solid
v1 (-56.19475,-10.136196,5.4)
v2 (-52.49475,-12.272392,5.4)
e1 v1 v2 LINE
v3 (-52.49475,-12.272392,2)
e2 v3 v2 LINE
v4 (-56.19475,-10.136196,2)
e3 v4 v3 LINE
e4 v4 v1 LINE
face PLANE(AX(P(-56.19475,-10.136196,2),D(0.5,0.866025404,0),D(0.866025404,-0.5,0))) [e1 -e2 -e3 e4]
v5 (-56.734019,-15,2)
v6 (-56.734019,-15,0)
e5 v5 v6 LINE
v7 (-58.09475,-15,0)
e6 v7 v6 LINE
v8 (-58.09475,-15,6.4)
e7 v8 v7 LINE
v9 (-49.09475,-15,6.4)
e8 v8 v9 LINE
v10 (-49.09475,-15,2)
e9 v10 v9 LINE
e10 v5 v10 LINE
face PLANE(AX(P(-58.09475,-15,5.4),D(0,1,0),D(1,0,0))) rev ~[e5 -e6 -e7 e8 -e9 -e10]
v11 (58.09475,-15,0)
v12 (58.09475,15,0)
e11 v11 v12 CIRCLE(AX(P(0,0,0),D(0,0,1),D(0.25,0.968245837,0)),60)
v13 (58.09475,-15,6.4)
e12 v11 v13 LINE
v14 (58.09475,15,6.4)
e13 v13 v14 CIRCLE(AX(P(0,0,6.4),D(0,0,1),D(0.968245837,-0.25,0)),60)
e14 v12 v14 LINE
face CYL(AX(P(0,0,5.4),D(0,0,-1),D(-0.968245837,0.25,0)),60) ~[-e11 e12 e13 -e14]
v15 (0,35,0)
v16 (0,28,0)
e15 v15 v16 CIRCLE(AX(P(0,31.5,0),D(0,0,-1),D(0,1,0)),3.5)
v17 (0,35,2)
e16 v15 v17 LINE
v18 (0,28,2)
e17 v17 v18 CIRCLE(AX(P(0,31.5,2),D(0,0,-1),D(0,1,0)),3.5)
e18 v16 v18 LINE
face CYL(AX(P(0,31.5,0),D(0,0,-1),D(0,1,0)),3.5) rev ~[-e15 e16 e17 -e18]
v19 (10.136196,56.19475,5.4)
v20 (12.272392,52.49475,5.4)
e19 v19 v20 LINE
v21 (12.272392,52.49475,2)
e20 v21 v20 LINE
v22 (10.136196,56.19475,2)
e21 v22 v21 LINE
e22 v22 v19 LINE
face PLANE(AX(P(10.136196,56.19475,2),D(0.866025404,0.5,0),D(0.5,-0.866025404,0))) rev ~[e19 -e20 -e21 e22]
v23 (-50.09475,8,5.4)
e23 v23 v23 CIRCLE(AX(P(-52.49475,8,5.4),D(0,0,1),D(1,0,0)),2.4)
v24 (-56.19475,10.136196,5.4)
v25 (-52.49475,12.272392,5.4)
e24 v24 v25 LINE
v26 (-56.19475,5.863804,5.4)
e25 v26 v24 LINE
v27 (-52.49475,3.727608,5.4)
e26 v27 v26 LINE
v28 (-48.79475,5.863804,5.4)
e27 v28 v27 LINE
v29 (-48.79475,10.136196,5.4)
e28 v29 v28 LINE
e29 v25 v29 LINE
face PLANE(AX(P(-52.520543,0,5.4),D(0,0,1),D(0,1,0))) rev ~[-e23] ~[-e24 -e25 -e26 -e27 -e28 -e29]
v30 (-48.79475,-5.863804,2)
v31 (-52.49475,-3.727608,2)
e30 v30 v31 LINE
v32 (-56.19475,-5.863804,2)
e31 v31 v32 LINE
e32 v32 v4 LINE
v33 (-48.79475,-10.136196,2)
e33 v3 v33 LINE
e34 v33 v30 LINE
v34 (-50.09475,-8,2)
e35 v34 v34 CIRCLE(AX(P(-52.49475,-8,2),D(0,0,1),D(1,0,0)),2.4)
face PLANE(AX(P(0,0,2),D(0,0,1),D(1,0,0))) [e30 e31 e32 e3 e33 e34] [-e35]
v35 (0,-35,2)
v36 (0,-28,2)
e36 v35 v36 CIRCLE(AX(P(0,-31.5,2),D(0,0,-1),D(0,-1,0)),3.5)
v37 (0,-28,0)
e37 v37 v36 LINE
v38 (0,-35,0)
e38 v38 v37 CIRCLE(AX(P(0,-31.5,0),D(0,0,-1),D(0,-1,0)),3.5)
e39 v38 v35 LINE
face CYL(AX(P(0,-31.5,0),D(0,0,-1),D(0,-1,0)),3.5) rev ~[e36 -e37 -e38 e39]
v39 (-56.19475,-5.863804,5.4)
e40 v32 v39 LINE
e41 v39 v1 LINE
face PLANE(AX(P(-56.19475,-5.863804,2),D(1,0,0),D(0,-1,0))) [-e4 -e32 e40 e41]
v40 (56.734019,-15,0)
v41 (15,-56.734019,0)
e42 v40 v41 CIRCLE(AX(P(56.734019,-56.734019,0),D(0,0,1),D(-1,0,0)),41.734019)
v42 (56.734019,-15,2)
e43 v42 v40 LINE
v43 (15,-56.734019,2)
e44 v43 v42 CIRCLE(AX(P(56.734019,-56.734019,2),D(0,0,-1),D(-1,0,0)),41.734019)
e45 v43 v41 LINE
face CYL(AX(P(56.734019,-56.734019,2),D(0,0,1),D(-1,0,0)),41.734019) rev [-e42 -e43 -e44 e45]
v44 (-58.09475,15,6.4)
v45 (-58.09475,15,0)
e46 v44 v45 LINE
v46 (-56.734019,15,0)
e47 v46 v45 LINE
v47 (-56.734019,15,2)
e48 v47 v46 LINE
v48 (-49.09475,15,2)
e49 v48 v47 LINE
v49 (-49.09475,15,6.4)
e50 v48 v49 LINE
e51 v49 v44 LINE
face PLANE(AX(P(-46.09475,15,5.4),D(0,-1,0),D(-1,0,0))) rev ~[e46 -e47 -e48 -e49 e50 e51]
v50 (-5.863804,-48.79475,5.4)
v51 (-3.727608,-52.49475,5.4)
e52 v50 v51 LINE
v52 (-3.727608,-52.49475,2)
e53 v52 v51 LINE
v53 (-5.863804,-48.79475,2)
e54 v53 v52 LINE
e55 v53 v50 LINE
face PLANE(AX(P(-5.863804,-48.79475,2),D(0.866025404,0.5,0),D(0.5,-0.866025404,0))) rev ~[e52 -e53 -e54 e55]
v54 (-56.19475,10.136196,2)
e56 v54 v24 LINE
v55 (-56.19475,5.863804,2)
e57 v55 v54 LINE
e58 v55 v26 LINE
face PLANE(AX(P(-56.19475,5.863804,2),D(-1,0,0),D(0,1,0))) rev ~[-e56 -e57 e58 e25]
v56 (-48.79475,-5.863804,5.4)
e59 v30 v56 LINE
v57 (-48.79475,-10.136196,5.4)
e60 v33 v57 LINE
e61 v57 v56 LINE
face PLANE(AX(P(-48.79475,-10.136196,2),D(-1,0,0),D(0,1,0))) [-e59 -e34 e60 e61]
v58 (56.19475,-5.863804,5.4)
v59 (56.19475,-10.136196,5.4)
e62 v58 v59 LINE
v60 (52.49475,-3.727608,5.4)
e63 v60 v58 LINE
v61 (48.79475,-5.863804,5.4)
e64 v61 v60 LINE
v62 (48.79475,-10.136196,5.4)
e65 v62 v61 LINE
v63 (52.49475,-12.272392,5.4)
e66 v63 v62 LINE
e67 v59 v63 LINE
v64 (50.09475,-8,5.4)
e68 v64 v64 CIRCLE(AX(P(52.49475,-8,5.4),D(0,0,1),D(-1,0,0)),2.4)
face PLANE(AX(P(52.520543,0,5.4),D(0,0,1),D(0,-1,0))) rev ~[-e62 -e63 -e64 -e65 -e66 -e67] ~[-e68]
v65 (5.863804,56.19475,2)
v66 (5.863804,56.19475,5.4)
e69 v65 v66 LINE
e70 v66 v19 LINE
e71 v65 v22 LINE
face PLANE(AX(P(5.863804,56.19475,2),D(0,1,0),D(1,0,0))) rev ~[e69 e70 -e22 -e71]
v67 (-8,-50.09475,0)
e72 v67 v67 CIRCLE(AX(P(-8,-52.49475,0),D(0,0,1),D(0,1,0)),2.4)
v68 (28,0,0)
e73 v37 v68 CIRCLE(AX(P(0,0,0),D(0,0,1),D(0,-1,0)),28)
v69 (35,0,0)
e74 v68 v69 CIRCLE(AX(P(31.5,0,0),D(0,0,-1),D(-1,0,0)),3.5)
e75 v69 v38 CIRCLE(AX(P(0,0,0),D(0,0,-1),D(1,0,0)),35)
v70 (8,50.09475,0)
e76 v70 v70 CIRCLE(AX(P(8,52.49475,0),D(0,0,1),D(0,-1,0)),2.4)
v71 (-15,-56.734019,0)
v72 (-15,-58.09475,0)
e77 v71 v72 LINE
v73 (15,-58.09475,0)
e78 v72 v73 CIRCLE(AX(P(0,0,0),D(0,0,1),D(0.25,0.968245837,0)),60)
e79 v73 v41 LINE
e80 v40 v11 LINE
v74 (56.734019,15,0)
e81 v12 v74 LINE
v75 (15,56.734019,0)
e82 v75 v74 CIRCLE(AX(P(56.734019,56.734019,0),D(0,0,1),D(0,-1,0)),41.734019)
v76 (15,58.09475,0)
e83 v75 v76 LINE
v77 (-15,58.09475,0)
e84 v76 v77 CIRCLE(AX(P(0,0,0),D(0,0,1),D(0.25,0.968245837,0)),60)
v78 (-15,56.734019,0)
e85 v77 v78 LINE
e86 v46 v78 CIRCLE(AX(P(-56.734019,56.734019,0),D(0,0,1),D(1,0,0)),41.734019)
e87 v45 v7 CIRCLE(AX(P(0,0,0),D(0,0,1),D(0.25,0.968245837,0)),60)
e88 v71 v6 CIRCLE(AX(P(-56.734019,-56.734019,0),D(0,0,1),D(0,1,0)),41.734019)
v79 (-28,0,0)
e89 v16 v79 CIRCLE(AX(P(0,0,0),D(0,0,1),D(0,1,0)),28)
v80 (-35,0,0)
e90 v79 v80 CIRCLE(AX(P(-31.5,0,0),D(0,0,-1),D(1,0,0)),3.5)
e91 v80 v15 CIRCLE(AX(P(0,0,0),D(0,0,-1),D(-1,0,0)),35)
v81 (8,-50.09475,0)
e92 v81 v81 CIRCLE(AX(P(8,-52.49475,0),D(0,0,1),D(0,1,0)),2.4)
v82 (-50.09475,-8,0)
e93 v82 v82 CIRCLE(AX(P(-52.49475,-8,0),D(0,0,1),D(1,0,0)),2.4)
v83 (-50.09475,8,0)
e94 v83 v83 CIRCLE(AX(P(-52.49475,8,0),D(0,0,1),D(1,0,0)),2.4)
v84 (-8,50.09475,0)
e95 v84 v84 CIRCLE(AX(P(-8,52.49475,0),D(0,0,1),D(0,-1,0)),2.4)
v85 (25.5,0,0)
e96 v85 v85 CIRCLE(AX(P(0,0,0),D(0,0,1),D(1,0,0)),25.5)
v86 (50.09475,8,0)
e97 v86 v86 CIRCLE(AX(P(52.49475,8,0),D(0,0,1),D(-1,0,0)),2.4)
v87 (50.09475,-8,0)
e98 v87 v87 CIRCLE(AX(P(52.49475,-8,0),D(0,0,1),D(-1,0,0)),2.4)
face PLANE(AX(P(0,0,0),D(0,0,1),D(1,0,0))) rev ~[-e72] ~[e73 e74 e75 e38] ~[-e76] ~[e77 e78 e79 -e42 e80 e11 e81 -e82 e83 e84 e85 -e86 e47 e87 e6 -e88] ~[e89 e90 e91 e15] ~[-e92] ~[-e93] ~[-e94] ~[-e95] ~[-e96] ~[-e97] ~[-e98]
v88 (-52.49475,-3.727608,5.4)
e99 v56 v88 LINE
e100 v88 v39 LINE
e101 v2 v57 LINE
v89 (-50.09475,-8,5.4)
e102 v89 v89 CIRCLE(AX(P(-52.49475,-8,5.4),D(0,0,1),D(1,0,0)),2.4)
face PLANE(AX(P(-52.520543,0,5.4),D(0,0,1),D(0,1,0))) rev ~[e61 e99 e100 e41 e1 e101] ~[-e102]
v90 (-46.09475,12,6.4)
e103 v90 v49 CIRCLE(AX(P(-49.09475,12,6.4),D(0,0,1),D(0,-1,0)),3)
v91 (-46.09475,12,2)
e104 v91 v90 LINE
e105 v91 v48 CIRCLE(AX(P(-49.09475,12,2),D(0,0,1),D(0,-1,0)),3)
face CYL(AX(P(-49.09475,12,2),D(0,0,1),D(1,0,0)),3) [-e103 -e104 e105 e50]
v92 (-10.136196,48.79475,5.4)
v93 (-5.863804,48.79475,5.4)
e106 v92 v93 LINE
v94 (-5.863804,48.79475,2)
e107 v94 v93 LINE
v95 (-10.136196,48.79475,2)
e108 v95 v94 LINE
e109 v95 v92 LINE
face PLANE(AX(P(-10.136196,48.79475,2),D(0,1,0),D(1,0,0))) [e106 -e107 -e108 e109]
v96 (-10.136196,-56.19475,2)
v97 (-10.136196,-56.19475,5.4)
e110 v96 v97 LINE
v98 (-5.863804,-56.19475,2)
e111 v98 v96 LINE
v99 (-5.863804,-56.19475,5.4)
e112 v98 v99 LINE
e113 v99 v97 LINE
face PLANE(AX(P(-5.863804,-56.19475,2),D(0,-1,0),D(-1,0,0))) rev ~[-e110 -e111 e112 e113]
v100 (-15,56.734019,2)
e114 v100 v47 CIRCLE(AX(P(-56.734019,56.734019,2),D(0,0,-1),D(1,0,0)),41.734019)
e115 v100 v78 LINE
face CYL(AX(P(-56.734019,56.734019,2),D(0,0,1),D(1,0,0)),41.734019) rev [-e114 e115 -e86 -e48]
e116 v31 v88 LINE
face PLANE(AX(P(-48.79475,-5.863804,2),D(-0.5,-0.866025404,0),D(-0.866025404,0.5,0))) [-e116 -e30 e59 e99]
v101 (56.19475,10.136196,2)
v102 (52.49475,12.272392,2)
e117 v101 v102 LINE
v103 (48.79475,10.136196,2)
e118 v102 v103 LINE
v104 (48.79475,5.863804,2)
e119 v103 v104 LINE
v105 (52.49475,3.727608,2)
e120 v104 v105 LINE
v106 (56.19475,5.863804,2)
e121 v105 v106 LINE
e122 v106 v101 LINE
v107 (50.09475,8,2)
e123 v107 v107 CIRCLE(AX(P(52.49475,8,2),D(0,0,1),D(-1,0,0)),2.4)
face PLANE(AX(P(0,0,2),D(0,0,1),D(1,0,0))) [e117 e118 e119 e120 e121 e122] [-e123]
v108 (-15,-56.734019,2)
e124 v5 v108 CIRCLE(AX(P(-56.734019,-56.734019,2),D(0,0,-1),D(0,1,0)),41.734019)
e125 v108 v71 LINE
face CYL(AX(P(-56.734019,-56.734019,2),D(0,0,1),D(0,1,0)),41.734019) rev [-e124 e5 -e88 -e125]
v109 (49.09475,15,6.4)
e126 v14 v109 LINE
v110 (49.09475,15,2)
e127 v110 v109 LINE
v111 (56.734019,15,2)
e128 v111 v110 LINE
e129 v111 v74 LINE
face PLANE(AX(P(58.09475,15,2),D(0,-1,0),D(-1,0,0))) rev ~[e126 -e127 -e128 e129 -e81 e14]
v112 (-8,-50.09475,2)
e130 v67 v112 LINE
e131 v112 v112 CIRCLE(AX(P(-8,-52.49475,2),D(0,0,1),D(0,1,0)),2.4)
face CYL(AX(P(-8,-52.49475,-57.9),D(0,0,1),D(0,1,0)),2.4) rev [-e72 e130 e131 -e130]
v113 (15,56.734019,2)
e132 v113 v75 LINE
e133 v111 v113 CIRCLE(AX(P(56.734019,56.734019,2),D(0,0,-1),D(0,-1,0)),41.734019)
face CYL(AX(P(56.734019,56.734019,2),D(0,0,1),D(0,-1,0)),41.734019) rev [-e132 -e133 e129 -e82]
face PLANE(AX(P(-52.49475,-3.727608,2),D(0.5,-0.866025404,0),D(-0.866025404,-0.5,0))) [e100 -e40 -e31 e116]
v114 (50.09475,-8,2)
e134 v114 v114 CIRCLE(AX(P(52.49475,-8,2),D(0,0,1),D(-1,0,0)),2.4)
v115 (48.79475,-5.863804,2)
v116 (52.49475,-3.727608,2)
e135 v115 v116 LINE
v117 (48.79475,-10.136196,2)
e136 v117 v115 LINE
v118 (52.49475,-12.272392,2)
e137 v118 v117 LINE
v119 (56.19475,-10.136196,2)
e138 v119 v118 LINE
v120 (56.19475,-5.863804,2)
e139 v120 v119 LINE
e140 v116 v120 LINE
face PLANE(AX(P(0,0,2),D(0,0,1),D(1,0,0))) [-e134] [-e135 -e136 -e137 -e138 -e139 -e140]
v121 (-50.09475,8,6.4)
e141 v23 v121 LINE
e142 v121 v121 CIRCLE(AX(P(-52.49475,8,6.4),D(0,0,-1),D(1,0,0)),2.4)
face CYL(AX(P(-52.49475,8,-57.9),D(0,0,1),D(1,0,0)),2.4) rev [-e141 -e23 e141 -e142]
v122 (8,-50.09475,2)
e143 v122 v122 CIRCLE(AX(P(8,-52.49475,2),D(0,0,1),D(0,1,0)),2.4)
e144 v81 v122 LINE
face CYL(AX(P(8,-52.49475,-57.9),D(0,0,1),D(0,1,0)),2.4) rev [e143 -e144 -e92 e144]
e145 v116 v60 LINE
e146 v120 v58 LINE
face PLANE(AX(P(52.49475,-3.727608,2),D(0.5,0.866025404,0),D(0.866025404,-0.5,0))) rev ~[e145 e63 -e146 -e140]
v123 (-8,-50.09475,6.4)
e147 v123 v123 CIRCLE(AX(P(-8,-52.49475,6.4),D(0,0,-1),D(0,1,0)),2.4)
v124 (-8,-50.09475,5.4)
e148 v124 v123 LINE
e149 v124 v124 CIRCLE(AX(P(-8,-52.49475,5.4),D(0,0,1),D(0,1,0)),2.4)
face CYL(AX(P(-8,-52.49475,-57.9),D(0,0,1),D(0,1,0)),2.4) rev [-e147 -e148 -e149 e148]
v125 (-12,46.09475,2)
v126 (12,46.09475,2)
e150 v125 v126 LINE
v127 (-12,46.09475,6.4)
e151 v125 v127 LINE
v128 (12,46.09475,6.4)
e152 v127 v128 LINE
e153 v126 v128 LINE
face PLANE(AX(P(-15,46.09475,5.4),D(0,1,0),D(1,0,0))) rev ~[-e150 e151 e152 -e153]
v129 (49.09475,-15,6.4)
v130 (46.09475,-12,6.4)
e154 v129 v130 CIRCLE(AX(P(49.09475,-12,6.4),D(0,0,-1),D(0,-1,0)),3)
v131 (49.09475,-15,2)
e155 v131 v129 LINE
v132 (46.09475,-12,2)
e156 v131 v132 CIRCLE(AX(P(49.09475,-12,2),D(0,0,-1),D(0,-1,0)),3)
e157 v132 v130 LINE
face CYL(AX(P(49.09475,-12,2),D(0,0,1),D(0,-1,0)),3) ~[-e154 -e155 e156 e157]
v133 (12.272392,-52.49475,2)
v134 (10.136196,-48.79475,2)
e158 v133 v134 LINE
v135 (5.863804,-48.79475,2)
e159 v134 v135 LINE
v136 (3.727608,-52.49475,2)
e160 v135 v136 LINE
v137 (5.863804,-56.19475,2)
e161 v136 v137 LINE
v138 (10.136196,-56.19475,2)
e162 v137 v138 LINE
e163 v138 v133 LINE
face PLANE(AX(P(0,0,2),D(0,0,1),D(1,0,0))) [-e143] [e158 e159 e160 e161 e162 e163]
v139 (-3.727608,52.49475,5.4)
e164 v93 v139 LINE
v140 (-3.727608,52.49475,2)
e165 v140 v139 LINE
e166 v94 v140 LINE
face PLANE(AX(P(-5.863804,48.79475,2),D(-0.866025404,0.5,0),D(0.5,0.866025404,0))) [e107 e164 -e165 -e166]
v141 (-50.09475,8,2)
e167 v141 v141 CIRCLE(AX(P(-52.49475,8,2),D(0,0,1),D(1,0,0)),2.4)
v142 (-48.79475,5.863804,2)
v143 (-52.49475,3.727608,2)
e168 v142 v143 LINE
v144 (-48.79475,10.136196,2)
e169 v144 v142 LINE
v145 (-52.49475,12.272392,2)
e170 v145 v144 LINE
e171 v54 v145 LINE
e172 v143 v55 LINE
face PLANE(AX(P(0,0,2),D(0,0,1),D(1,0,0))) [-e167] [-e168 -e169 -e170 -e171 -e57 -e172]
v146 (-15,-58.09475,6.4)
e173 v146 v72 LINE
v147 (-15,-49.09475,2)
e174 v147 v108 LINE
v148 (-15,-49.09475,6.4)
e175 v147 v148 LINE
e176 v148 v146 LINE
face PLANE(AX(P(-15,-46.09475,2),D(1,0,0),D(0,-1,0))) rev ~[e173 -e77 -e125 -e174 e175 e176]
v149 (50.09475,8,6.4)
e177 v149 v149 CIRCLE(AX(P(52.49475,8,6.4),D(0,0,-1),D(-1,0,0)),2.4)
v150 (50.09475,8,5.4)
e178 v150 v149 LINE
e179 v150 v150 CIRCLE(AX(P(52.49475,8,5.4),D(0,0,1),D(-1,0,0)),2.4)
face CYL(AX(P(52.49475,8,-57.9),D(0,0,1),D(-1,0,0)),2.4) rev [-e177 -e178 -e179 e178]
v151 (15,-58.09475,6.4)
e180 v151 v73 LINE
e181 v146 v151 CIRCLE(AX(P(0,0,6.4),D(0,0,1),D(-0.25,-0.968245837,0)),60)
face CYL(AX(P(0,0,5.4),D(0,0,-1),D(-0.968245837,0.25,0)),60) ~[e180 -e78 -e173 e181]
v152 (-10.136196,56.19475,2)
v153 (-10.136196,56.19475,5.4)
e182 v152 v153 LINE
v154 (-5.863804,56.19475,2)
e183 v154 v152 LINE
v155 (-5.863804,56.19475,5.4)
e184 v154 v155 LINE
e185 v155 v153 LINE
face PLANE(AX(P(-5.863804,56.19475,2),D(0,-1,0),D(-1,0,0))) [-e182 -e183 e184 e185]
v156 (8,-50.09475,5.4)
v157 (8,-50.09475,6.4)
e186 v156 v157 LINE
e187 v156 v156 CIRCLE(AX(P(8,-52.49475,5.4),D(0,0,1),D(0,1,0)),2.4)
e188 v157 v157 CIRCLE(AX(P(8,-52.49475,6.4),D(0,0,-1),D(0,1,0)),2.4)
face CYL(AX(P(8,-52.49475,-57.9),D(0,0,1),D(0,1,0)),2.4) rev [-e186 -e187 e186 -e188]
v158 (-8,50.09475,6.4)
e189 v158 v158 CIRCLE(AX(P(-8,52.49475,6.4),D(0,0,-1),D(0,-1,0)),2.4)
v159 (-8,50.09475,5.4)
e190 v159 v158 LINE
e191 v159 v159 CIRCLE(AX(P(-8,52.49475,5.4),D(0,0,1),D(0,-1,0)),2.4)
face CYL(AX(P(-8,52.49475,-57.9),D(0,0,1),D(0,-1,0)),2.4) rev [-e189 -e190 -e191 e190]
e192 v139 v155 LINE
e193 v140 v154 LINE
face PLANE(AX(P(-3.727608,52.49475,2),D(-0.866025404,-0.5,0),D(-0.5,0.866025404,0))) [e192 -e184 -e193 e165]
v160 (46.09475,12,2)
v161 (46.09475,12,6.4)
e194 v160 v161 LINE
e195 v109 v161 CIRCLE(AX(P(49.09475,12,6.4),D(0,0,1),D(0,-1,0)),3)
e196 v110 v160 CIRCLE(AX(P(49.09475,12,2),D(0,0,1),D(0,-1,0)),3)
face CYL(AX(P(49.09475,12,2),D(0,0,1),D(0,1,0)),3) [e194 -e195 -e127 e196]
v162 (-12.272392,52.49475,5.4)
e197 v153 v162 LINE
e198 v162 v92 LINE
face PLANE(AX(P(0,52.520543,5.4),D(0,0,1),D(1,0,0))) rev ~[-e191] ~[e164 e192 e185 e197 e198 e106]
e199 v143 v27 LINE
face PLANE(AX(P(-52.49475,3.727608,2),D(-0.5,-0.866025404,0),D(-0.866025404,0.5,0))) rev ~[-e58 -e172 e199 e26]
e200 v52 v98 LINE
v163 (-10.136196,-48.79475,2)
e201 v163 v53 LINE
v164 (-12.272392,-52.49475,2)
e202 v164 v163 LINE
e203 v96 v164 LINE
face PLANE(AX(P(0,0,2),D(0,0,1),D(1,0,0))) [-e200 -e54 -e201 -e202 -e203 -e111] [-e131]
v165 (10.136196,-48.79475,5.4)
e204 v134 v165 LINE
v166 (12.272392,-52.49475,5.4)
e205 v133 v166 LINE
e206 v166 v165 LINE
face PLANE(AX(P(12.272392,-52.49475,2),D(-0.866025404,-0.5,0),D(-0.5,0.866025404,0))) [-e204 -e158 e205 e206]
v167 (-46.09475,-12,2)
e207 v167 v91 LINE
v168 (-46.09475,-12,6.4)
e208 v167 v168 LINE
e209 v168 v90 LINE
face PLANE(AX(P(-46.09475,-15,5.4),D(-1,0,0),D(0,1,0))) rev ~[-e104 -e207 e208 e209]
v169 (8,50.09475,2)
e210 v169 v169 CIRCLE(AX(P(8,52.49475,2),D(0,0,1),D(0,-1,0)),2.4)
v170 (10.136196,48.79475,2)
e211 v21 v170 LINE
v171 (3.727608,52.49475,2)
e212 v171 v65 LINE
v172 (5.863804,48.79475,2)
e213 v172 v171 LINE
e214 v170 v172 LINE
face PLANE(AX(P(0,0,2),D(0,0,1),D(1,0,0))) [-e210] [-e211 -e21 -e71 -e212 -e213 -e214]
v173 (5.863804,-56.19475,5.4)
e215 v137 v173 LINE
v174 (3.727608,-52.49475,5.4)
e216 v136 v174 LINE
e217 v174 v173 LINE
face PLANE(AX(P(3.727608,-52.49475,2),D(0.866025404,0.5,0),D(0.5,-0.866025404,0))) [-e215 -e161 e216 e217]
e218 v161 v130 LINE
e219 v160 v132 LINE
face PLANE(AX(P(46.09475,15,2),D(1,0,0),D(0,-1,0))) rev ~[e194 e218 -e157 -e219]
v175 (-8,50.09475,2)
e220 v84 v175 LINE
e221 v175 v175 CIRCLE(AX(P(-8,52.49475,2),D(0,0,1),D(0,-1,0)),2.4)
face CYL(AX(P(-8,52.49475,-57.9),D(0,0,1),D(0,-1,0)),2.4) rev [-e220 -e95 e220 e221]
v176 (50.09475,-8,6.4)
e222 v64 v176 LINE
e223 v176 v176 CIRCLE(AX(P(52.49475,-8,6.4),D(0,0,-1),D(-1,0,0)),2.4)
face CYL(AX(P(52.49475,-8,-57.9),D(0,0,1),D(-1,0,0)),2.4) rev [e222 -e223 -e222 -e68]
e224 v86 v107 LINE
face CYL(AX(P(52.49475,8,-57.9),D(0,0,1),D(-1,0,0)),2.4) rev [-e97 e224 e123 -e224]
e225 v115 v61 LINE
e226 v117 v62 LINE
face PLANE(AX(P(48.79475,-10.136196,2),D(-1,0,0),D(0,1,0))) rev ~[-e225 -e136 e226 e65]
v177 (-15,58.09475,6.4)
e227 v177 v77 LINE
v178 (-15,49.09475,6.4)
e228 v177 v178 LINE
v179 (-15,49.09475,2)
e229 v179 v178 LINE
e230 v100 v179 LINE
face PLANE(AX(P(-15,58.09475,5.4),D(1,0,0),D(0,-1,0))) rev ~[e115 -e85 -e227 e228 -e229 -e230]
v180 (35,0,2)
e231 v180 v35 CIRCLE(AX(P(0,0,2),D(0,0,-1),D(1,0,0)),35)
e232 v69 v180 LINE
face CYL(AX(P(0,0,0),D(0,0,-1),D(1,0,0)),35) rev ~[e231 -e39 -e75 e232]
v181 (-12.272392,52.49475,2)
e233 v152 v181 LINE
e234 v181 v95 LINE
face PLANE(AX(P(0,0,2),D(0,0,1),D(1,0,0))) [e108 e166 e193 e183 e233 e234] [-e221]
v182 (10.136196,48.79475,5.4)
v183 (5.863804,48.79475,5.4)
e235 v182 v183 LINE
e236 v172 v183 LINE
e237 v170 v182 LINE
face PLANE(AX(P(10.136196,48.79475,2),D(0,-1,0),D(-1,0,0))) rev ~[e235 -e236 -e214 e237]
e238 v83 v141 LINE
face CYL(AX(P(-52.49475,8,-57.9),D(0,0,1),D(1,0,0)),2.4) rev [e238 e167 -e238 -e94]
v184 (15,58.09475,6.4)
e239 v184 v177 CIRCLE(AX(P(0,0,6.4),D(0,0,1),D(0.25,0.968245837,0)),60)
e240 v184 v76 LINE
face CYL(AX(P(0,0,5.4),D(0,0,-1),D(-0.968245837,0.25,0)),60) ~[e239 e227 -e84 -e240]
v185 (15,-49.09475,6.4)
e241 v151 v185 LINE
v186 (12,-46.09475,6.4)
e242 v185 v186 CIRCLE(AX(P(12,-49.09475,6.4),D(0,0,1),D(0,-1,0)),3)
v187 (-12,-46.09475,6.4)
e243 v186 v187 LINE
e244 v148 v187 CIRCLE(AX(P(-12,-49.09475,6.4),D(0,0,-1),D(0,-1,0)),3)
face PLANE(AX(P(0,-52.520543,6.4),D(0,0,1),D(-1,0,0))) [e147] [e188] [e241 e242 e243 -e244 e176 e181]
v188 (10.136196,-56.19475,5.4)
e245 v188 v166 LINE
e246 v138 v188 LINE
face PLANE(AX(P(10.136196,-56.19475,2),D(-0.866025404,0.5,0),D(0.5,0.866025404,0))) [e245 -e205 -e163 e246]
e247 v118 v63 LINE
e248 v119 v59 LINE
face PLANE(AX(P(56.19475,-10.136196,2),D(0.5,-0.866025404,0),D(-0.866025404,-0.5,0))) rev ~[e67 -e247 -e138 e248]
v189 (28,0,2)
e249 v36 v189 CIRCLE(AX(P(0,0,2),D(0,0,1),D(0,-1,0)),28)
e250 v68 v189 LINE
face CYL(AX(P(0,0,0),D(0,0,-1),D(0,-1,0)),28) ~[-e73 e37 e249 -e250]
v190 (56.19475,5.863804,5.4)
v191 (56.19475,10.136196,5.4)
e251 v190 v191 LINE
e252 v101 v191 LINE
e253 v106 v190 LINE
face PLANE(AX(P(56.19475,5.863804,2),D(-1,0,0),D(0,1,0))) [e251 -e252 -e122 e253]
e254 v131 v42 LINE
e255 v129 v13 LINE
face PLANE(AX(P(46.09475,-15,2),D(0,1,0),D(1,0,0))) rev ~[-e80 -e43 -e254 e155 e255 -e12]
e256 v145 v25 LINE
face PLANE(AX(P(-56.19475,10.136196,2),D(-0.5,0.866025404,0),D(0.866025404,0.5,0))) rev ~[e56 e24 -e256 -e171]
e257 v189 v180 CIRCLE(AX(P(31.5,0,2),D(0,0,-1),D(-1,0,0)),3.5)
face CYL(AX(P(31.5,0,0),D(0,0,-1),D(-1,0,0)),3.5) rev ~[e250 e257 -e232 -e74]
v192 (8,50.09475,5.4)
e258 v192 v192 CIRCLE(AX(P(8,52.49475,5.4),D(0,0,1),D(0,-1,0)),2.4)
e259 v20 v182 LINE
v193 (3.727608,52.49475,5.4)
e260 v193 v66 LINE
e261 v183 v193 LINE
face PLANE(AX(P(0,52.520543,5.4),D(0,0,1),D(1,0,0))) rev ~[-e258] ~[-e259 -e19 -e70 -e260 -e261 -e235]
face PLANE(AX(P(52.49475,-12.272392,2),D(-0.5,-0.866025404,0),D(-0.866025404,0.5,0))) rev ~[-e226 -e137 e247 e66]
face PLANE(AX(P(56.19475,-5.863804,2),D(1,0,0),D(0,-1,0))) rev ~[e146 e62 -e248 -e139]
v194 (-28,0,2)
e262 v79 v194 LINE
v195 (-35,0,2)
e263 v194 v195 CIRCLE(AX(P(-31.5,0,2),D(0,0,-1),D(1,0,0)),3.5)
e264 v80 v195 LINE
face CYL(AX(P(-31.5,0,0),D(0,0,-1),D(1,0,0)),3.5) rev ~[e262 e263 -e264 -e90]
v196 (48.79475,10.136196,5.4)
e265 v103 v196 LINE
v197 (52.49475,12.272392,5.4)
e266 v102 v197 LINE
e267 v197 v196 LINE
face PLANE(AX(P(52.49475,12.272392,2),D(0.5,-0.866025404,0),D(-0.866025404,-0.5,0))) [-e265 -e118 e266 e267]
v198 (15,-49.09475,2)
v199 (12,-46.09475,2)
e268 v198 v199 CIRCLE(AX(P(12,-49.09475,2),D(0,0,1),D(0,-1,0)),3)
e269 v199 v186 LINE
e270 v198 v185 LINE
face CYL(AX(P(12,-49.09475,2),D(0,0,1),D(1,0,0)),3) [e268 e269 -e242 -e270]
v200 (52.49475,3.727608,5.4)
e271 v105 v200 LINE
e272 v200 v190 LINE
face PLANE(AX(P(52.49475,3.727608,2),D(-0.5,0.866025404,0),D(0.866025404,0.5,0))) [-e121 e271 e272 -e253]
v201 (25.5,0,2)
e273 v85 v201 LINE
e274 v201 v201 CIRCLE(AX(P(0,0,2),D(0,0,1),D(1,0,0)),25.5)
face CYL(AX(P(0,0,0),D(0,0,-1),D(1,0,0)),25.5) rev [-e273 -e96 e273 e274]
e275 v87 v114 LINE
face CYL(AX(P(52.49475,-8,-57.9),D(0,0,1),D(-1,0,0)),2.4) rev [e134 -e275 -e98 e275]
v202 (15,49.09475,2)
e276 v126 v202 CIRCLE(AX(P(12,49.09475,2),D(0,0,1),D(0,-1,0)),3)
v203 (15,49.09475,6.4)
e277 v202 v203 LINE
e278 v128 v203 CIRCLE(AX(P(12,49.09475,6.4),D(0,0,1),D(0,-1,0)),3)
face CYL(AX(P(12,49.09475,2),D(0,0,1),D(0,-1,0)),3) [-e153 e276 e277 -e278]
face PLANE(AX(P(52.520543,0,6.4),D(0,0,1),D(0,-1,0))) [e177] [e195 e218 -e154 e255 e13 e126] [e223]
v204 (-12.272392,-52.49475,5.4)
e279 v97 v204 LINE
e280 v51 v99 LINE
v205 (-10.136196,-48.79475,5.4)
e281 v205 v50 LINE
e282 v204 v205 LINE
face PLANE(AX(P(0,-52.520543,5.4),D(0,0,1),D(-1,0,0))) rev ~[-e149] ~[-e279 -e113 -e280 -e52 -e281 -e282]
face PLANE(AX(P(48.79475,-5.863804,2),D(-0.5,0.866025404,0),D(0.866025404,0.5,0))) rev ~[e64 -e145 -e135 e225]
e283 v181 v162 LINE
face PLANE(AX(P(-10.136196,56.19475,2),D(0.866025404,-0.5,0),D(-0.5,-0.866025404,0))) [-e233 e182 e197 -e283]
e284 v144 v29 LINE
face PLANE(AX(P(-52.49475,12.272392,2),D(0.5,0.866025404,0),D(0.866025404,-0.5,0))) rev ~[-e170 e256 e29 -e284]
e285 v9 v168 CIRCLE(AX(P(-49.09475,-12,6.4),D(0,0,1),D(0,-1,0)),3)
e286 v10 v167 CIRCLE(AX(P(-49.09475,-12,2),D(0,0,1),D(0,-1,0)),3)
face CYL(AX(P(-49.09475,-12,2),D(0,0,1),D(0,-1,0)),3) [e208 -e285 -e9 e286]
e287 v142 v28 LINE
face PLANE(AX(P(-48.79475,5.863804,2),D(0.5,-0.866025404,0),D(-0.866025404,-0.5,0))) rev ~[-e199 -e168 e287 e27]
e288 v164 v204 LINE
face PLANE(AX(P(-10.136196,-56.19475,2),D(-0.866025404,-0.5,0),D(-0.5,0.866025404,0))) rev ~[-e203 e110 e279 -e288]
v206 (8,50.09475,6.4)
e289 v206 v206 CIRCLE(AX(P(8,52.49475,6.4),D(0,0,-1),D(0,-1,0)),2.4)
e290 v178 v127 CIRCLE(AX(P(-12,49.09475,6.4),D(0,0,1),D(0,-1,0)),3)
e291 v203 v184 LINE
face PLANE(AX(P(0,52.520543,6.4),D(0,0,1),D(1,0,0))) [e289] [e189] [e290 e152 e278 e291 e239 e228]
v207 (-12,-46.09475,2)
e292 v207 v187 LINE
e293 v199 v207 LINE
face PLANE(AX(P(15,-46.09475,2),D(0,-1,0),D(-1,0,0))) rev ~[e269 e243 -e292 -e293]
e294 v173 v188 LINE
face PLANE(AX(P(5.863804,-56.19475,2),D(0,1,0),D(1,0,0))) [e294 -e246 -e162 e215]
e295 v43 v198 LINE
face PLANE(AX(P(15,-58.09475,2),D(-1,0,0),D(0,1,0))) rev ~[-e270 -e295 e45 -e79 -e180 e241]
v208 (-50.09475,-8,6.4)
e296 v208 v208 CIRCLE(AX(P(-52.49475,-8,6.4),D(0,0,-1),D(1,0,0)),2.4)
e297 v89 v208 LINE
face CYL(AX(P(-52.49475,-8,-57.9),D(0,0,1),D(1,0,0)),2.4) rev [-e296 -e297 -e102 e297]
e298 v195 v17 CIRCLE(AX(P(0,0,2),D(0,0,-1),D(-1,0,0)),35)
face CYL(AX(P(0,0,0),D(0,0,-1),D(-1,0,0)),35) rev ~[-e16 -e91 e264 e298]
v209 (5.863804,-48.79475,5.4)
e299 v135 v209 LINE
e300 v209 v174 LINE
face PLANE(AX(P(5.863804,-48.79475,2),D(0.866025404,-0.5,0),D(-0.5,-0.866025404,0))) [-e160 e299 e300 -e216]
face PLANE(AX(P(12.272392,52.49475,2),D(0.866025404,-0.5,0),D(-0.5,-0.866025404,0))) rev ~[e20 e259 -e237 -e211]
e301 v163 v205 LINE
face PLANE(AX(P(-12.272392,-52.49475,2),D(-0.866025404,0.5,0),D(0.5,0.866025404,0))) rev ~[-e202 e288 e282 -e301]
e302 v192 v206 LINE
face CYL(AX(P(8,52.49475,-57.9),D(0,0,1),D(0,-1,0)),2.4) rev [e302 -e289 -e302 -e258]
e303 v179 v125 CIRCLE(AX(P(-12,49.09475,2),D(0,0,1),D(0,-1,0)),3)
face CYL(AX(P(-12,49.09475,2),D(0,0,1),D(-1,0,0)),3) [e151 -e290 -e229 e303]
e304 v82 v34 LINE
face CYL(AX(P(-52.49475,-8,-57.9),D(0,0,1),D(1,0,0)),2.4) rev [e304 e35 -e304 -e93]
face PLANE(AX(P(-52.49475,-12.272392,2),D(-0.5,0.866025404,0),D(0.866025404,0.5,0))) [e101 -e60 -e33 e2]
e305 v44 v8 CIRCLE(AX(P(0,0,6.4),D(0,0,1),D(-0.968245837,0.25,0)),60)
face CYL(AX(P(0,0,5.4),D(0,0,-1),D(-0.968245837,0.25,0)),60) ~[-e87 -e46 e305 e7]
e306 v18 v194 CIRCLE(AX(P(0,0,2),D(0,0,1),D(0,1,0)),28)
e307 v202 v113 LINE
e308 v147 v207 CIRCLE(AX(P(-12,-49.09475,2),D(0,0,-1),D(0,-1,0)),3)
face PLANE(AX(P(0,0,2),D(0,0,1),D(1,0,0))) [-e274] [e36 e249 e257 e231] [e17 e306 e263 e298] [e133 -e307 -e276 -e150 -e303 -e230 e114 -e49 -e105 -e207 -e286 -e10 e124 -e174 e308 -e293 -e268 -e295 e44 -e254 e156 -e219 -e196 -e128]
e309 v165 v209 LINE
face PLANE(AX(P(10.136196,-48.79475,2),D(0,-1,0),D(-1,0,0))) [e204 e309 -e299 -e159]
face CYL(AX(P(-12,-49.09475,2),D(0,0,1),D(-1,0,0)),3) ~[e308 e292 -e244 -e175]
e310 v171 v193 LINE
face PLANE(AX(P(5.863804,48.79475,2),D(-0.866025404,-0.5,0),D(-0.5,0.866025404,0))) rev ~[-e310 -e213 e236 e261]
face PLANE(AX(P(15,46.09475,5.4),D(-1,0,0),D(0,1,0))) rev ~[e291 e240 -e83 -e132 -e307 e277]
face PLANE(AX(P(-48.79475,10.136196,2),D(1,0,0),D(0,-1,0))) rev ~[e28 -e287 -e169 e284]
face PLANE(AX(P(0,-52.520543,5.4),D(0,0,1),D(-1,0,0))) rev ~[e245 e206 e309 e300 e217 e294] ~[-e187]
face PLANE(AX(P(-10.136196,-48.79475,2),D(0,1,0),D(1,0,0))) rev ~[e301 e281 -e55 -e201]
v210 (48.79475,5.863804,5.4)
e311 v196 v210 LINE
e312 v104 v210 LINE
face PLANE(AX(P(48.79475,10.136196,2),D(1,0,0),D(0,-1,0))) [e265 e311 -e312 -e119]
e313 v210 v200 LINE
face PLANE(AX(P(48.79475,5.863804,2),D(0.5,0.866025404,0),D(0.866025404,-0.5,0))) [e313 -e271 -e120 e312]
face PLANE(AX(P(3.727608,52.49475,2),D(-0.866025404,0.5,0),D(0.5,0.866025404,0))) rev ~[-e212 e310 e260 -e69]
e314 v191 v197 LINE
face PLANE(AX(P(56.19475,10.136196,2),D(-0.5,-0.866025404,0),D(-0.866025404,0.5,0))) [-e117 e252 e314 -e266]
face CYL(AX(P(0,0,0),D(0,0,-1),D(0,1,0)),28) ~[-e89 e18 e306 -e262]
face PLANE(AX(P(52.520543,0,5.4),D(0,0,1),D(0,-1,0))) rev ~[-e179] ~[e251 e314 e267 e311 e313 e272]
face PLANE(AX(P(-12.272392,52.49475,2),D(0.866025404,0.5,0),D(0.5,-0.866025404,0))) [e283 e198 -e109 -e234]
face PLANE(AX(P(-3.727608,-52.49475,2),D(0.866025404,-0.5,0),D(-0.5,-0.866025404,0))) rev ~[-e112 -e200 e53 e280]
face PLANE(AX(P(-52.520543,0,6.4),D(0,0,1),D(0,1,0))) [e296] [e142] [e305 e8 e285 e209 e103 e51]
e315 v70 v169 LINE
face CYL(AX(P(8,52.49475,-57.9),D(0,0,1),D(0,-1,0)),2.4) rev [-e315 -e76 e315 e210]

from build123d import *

# Parameters (mm, degrees)
SKIZZE1_R                         = 60
SKIZZE1_R_2                       = 25.500000000000004
AUFSATZ_LINEAR_AUSTRAGEN1_DEPTH   = 2
AUFSATZ_LINEAR_AUSTRAGEN2_DEPTH   = 3.4
AUFSATZ_LINEAR_START              = 3.4
AUFSATZ_LINEAR_AUSTRAGEN3_DEPTH   = 1
DURCHGANGSLOCH_F_R_M41_AT_2_COUNT = 2
DURCHGANGSLOCH_F_R_M41_AT_2_PITCH = 16
VERRUNDUNG1_R                     = 3
KREISMUSTER3_COUNT                = 4
VERRUNDUNG1_OF_KREISMUSTER3_R     = 3
SCHNITT_LINEAR_AUSTRAGEN1_DEPTH   = 85.96681705230577
KREISMUSTER4_COUNT                = 4


with BuildPart() as part:
    # Skizze1 → Aufsatz-Linear austragen1 (new body)
    with BuildSketch(Plane.XY):
        Circle(SKIZZE1_R)
        with BuildLine():
            ThreePointArc((27.999999999999982, 1.3878e-13), (31.499999999999975, 3.5000000000001417), (34.99999999999999, 1.663e-13))
            ThreePointArc((34.99999999999999, 1.6653e-13), (24.74873734152926, -24.748737341529065), (1.1405e-13, -35))
            ThreePointArc((1.1102e-13, -34.99999999999999), (-3.499999999999895, -31.500000000000007), (8.617e-14, -27.999999999999996))
            ThreePointArc((9.52e-14, -27.999999999999993), (19.7989898732234, -19.798989873223235), (27.99999999999998, 1.3878e-13))
        make_face(mode=Mode.SUBTRACT)
        with BuildLine():
            ThreePointArc((-35, -3.19e-15), (-24.748737341529157, 24.74873734152916), (0, 35))
            ThreePointArc((1.09e-15, 35), (3.500000000000004, 31.5), (0, 28))
            ThreePointArc((0, 27.999999999999993), (-19.79898987322333, 19.798989873223334), (-28, -1.84e-15))
            ThreePointArc((-28, 2.4e-16), (-31.5, -3.4999999999999996), (-35, 0))
        make_face(mode=Mode.SUBTRACT)
        Circle(SKIZZE1_R_2, mode=Mode.SUBTRACT)
    extrude(amount=AUFSATZ_LINEAR_AUSTRAGEN1_DEPTH)

    # Skizze2 → Aufsatz-Linear austragen2 (add)
    with BuildSketch(Plane.XY.offset(2)):
        with BuildLine():
            Line((-15, 58.09475019311125), (-15.000000000000002, 46.094750193111246))
            Line((-15.000000000000002, 46.094750193111246), (14.999999999999998, 46.094750193111246))
            Line((14.999999999999998, 46.094750193111246), (15, 58.09475019311125))
            ThreePointArc((15, 58.09475019311125), (3.67e-15, 60), (-15, 58.09475019311125))
        make_face()
        Polygon((-5.863804003998373, 56.19475019311125), (-10.13619599600161, 56.19475019311125), (-12.272391992003223, 52.49475019311125), (-10.136195996001604, 48.79475019311124), (-5.863804003998377, 48.79475019311124), (-3.7276080079967584, 52.494750193111244), align=None, mode=Mode.SUBTRACT)
        Polygon((5.863804003998377, 48.79475019311124), (3.7276080079967584, 52.494750193111244), (5.863804003998373, 56.19475019311125), (10.13619599600161, 56.19475019311125), (12.272391992003223, 52.49475019311125), (10.136195996001604, 48.79475019311124), align=None, mode=Mode.SUBTRACT)
    aufsatz_linear_austragen2 = extrude(amount=AUFSATZ_LINEAR_AUSTRAGEN2_DEPTH)

    # Skizze2_3 → Aufsatz-Linear austragen3 (add)
    with BuildSketch(Plane.XY.offset(2).offset(AUFSATZ_LINEAR_START)):
        with BuildLine():
            Line((-15, 58.09475019311125), (-15.000000000000002, 46.094750193111246))
            Line((-15.000000000000002, 46.094750193111246), (14.999999999999998, 46.094750193111246))
            Line((14.999999999999998, 46.094750193111246), (15, 58.09475019311125))
            ThreePointArc((15, 58.09475019311125), (3.67e-15, 60), (-15, 58.09475019311125))
        make_face()
    aufsatz_linear_austragen3 = extrude(amount=AUFSATZ_LINEAR_AUSTRAGEN3_DEPTH)

    # Skizze4 → Durchgangsloch für M41 (revolve, cut)
    with BuildSketch(Plane(origin=(-8, 52.494750193111244, 6.4), x_dir=(0, -1, 0), z_dir=(1, 0, 0))):
        Polygon((0, 0), (-1.61e-14, 65.74206548566613), (2.3999999999999804, 64.3), (2.399999999999989, -1.26e-15), align=None)
    durchgangsloch_f_r_m41 = revolve(axis=Axis((-8, 52.494750193111244, 12.749999999999991), (0, 0, -1)), mode=Mode.SUBTRACT)

    # Durchgangsloch für M41 at 2: Durchgangsloch für M41 ×2
    with Locations(*[(i * DURCHGANGSLOCH_F_R_M41_AT_2_PITCH, 0, 0) for i in range(1, DURCHGANGSLOCH_F_R_M41_AT_2_COUNT)]):
        add(durchgangsloch_f_r_m41, mode=Mode.SUBTRACT)

    # Verrundung1
    verrundung1_edges = [part.edges().sort_by_distance(p)[0] for p in [
        (14.999999999999998, 46.094750193111246, 4.2),
        (-15.000000000000002, 46.094750193111246, 4.2),
    ]]
    fillet(verrundung1_edges, radius=VERRUNDUNG1_R)

    # Kreismuster3: Aufsatz-Linear austragen2, Aufsatz-Linear austragen3, Durchgangsloch für M41 ×4 about axis
    kreismuster3_axis = Axis((0, 0, 2), (0, 0, 1))
    add([aufsatz_linear_austragen2.rotate(kreismuster3_axis, i * 360 / KREISMUSTER3_COUNT) for i in range(1, KREISMUSTER3_COUNT)])
    add([aufsatz_linear_austragen3.rotate(kreismuster3_axis, i * 360 / KREISMUSTER3_COUNT) for i in range(1, KREISMUSTER3_COUNT)])
    add([durchgangsloch_f_r_m41.rotate(kreismuster3_axis, i * 360 / KREISMUSTER3_COUNT) for i in range(1, KREISMUSTER3_COUNT)], mode=Mode.SUBTRACT)

    # Kreismuster3 copy 1 sketch → Kreismuster3 copy 1 (revolve, cut)
    with BuildSketch(Plane(origin=(-52.494750193111244, 8.000000000000004, 6.4), x_dir=(1, -6e-17, 0), z_dir=(6e-17, 1, 0))):
        Polygon((0, 0), (-1.61e-14, 65.74206548566613), (2.3999999999999804, 64.3), (2.399999999999989, -1.26e-15), align=None)
    revolve(axis=Axis((-52.494750193111244, 8.000000000000004, 12.749999999999991), (0, 0, -1)), mode=Mode.SUBTRACT)

    # Kreismuster3 copy 2 sketch → Kreismuster3 copy 2 (revolve, cut)
    with BuildSketch(Plane(origin=(-8.000000000000007, -52.494750193111244, 6.4), x_dir=(1.2e-16, 1, 0), z_dir=(-1, 1.2e-16, 0))):
        Polygon((0, 0), (-1.61e-14, 65.74206548566613), (2.3999999999999804, 64.3), (2.399999999999989, -1.26e-15), align=None)
    revolve(axis=Axis((-8.000000000000007, -52.494750193111244, 12.749999999999991), (0, 0, -1)), mode=Mode.SUBTRACT)

    # Kreismuster3 copy 3 sketch → Kreismuster3 copy 3 (revolve, cut)
    with BuildSketch(Plane(origin=(52.494750193111244, -8.00000000000001, 6.4), x_dir=(-1, 1.8e-16, 0), z_dir=(-1.8e-16, -1, 0))):
        Polygon((0, 0), (-1.61e-14, 65.74206548566613), (2.3999999999999804, 64.3), (2.399999999999989, -1.26e-15), align=None)
    revolve(axis=Axis((52.494750193111244, -8.00000000000001, 12.749999999999991), (0, 0, -1)), mode=Mode.SUBTRACT)

    # Verrundung1 of Kreismuster3
    verrundung1_of_kreismuster3_edges = [part.edges().sort_by_distance(p)[0] for p in [
        (-46.094750193111246, 15.000000000000002, 4.2),
        (-46.094750193111246, -14.999999999999998, 4.2),
        (-15.000000000000004, -46.094750193111246, 4.2),
        (14.999999999999996, -46.094750193111246, 4.2),
        (46.094750193111246, -15.000000000000007, 4.2),
        (46.094750193111246, 14.999999999999993, 4.2),
    ]]
    fillet(verrundung1_of_kreismuster3_edges, radius=VERRUNDUNG1_OF_KREISMUSTER3_R)

    # Skizze5 → Schnitt-Linear austragen1 (cut, through all)
    with BuildSketch(Plane.XY.offset(2)):
        with BuildLine():
            Line((58.09475019311109, 15.000000000000608), (56.734018715766695, 15.00000000000061))
            ThreePointArc((56.734018715766695, 15.00000000000061), (27.22361107568177, 27.22361107568239), (15, 56.734018715767306))
            Line((15, 56.734018715767306), (14.999999999999998, 58.09475019311125))
            ThreePointArc((14.999999999999998, 58.09475019311125), (42.426406871192626, 42.42640687119307), (58.09475019311109, 15.000000000000608))
        make_face()
    schnitt_linear_austragen1 = extrude(amount=-SCHNITT_LINEAR_AUSTRAGEN1_DEPTH, mode=Mode.SUBTRACT)

    # Kreismuster4: Schnitt-Linear austragen1 ×4 about axis
    kreismuster4_axis = Axis((0, 0, 0), (0, 0, 1))
    for i in range(1, KREISMUSTER4_COUNT):
        add(schnitt_linear_austragen1.rotate(kreismuster4_axis, i * 360 / KREISMUSTER4_COUNT), mode=Mode.SUBTRACT)


solid = part.part
